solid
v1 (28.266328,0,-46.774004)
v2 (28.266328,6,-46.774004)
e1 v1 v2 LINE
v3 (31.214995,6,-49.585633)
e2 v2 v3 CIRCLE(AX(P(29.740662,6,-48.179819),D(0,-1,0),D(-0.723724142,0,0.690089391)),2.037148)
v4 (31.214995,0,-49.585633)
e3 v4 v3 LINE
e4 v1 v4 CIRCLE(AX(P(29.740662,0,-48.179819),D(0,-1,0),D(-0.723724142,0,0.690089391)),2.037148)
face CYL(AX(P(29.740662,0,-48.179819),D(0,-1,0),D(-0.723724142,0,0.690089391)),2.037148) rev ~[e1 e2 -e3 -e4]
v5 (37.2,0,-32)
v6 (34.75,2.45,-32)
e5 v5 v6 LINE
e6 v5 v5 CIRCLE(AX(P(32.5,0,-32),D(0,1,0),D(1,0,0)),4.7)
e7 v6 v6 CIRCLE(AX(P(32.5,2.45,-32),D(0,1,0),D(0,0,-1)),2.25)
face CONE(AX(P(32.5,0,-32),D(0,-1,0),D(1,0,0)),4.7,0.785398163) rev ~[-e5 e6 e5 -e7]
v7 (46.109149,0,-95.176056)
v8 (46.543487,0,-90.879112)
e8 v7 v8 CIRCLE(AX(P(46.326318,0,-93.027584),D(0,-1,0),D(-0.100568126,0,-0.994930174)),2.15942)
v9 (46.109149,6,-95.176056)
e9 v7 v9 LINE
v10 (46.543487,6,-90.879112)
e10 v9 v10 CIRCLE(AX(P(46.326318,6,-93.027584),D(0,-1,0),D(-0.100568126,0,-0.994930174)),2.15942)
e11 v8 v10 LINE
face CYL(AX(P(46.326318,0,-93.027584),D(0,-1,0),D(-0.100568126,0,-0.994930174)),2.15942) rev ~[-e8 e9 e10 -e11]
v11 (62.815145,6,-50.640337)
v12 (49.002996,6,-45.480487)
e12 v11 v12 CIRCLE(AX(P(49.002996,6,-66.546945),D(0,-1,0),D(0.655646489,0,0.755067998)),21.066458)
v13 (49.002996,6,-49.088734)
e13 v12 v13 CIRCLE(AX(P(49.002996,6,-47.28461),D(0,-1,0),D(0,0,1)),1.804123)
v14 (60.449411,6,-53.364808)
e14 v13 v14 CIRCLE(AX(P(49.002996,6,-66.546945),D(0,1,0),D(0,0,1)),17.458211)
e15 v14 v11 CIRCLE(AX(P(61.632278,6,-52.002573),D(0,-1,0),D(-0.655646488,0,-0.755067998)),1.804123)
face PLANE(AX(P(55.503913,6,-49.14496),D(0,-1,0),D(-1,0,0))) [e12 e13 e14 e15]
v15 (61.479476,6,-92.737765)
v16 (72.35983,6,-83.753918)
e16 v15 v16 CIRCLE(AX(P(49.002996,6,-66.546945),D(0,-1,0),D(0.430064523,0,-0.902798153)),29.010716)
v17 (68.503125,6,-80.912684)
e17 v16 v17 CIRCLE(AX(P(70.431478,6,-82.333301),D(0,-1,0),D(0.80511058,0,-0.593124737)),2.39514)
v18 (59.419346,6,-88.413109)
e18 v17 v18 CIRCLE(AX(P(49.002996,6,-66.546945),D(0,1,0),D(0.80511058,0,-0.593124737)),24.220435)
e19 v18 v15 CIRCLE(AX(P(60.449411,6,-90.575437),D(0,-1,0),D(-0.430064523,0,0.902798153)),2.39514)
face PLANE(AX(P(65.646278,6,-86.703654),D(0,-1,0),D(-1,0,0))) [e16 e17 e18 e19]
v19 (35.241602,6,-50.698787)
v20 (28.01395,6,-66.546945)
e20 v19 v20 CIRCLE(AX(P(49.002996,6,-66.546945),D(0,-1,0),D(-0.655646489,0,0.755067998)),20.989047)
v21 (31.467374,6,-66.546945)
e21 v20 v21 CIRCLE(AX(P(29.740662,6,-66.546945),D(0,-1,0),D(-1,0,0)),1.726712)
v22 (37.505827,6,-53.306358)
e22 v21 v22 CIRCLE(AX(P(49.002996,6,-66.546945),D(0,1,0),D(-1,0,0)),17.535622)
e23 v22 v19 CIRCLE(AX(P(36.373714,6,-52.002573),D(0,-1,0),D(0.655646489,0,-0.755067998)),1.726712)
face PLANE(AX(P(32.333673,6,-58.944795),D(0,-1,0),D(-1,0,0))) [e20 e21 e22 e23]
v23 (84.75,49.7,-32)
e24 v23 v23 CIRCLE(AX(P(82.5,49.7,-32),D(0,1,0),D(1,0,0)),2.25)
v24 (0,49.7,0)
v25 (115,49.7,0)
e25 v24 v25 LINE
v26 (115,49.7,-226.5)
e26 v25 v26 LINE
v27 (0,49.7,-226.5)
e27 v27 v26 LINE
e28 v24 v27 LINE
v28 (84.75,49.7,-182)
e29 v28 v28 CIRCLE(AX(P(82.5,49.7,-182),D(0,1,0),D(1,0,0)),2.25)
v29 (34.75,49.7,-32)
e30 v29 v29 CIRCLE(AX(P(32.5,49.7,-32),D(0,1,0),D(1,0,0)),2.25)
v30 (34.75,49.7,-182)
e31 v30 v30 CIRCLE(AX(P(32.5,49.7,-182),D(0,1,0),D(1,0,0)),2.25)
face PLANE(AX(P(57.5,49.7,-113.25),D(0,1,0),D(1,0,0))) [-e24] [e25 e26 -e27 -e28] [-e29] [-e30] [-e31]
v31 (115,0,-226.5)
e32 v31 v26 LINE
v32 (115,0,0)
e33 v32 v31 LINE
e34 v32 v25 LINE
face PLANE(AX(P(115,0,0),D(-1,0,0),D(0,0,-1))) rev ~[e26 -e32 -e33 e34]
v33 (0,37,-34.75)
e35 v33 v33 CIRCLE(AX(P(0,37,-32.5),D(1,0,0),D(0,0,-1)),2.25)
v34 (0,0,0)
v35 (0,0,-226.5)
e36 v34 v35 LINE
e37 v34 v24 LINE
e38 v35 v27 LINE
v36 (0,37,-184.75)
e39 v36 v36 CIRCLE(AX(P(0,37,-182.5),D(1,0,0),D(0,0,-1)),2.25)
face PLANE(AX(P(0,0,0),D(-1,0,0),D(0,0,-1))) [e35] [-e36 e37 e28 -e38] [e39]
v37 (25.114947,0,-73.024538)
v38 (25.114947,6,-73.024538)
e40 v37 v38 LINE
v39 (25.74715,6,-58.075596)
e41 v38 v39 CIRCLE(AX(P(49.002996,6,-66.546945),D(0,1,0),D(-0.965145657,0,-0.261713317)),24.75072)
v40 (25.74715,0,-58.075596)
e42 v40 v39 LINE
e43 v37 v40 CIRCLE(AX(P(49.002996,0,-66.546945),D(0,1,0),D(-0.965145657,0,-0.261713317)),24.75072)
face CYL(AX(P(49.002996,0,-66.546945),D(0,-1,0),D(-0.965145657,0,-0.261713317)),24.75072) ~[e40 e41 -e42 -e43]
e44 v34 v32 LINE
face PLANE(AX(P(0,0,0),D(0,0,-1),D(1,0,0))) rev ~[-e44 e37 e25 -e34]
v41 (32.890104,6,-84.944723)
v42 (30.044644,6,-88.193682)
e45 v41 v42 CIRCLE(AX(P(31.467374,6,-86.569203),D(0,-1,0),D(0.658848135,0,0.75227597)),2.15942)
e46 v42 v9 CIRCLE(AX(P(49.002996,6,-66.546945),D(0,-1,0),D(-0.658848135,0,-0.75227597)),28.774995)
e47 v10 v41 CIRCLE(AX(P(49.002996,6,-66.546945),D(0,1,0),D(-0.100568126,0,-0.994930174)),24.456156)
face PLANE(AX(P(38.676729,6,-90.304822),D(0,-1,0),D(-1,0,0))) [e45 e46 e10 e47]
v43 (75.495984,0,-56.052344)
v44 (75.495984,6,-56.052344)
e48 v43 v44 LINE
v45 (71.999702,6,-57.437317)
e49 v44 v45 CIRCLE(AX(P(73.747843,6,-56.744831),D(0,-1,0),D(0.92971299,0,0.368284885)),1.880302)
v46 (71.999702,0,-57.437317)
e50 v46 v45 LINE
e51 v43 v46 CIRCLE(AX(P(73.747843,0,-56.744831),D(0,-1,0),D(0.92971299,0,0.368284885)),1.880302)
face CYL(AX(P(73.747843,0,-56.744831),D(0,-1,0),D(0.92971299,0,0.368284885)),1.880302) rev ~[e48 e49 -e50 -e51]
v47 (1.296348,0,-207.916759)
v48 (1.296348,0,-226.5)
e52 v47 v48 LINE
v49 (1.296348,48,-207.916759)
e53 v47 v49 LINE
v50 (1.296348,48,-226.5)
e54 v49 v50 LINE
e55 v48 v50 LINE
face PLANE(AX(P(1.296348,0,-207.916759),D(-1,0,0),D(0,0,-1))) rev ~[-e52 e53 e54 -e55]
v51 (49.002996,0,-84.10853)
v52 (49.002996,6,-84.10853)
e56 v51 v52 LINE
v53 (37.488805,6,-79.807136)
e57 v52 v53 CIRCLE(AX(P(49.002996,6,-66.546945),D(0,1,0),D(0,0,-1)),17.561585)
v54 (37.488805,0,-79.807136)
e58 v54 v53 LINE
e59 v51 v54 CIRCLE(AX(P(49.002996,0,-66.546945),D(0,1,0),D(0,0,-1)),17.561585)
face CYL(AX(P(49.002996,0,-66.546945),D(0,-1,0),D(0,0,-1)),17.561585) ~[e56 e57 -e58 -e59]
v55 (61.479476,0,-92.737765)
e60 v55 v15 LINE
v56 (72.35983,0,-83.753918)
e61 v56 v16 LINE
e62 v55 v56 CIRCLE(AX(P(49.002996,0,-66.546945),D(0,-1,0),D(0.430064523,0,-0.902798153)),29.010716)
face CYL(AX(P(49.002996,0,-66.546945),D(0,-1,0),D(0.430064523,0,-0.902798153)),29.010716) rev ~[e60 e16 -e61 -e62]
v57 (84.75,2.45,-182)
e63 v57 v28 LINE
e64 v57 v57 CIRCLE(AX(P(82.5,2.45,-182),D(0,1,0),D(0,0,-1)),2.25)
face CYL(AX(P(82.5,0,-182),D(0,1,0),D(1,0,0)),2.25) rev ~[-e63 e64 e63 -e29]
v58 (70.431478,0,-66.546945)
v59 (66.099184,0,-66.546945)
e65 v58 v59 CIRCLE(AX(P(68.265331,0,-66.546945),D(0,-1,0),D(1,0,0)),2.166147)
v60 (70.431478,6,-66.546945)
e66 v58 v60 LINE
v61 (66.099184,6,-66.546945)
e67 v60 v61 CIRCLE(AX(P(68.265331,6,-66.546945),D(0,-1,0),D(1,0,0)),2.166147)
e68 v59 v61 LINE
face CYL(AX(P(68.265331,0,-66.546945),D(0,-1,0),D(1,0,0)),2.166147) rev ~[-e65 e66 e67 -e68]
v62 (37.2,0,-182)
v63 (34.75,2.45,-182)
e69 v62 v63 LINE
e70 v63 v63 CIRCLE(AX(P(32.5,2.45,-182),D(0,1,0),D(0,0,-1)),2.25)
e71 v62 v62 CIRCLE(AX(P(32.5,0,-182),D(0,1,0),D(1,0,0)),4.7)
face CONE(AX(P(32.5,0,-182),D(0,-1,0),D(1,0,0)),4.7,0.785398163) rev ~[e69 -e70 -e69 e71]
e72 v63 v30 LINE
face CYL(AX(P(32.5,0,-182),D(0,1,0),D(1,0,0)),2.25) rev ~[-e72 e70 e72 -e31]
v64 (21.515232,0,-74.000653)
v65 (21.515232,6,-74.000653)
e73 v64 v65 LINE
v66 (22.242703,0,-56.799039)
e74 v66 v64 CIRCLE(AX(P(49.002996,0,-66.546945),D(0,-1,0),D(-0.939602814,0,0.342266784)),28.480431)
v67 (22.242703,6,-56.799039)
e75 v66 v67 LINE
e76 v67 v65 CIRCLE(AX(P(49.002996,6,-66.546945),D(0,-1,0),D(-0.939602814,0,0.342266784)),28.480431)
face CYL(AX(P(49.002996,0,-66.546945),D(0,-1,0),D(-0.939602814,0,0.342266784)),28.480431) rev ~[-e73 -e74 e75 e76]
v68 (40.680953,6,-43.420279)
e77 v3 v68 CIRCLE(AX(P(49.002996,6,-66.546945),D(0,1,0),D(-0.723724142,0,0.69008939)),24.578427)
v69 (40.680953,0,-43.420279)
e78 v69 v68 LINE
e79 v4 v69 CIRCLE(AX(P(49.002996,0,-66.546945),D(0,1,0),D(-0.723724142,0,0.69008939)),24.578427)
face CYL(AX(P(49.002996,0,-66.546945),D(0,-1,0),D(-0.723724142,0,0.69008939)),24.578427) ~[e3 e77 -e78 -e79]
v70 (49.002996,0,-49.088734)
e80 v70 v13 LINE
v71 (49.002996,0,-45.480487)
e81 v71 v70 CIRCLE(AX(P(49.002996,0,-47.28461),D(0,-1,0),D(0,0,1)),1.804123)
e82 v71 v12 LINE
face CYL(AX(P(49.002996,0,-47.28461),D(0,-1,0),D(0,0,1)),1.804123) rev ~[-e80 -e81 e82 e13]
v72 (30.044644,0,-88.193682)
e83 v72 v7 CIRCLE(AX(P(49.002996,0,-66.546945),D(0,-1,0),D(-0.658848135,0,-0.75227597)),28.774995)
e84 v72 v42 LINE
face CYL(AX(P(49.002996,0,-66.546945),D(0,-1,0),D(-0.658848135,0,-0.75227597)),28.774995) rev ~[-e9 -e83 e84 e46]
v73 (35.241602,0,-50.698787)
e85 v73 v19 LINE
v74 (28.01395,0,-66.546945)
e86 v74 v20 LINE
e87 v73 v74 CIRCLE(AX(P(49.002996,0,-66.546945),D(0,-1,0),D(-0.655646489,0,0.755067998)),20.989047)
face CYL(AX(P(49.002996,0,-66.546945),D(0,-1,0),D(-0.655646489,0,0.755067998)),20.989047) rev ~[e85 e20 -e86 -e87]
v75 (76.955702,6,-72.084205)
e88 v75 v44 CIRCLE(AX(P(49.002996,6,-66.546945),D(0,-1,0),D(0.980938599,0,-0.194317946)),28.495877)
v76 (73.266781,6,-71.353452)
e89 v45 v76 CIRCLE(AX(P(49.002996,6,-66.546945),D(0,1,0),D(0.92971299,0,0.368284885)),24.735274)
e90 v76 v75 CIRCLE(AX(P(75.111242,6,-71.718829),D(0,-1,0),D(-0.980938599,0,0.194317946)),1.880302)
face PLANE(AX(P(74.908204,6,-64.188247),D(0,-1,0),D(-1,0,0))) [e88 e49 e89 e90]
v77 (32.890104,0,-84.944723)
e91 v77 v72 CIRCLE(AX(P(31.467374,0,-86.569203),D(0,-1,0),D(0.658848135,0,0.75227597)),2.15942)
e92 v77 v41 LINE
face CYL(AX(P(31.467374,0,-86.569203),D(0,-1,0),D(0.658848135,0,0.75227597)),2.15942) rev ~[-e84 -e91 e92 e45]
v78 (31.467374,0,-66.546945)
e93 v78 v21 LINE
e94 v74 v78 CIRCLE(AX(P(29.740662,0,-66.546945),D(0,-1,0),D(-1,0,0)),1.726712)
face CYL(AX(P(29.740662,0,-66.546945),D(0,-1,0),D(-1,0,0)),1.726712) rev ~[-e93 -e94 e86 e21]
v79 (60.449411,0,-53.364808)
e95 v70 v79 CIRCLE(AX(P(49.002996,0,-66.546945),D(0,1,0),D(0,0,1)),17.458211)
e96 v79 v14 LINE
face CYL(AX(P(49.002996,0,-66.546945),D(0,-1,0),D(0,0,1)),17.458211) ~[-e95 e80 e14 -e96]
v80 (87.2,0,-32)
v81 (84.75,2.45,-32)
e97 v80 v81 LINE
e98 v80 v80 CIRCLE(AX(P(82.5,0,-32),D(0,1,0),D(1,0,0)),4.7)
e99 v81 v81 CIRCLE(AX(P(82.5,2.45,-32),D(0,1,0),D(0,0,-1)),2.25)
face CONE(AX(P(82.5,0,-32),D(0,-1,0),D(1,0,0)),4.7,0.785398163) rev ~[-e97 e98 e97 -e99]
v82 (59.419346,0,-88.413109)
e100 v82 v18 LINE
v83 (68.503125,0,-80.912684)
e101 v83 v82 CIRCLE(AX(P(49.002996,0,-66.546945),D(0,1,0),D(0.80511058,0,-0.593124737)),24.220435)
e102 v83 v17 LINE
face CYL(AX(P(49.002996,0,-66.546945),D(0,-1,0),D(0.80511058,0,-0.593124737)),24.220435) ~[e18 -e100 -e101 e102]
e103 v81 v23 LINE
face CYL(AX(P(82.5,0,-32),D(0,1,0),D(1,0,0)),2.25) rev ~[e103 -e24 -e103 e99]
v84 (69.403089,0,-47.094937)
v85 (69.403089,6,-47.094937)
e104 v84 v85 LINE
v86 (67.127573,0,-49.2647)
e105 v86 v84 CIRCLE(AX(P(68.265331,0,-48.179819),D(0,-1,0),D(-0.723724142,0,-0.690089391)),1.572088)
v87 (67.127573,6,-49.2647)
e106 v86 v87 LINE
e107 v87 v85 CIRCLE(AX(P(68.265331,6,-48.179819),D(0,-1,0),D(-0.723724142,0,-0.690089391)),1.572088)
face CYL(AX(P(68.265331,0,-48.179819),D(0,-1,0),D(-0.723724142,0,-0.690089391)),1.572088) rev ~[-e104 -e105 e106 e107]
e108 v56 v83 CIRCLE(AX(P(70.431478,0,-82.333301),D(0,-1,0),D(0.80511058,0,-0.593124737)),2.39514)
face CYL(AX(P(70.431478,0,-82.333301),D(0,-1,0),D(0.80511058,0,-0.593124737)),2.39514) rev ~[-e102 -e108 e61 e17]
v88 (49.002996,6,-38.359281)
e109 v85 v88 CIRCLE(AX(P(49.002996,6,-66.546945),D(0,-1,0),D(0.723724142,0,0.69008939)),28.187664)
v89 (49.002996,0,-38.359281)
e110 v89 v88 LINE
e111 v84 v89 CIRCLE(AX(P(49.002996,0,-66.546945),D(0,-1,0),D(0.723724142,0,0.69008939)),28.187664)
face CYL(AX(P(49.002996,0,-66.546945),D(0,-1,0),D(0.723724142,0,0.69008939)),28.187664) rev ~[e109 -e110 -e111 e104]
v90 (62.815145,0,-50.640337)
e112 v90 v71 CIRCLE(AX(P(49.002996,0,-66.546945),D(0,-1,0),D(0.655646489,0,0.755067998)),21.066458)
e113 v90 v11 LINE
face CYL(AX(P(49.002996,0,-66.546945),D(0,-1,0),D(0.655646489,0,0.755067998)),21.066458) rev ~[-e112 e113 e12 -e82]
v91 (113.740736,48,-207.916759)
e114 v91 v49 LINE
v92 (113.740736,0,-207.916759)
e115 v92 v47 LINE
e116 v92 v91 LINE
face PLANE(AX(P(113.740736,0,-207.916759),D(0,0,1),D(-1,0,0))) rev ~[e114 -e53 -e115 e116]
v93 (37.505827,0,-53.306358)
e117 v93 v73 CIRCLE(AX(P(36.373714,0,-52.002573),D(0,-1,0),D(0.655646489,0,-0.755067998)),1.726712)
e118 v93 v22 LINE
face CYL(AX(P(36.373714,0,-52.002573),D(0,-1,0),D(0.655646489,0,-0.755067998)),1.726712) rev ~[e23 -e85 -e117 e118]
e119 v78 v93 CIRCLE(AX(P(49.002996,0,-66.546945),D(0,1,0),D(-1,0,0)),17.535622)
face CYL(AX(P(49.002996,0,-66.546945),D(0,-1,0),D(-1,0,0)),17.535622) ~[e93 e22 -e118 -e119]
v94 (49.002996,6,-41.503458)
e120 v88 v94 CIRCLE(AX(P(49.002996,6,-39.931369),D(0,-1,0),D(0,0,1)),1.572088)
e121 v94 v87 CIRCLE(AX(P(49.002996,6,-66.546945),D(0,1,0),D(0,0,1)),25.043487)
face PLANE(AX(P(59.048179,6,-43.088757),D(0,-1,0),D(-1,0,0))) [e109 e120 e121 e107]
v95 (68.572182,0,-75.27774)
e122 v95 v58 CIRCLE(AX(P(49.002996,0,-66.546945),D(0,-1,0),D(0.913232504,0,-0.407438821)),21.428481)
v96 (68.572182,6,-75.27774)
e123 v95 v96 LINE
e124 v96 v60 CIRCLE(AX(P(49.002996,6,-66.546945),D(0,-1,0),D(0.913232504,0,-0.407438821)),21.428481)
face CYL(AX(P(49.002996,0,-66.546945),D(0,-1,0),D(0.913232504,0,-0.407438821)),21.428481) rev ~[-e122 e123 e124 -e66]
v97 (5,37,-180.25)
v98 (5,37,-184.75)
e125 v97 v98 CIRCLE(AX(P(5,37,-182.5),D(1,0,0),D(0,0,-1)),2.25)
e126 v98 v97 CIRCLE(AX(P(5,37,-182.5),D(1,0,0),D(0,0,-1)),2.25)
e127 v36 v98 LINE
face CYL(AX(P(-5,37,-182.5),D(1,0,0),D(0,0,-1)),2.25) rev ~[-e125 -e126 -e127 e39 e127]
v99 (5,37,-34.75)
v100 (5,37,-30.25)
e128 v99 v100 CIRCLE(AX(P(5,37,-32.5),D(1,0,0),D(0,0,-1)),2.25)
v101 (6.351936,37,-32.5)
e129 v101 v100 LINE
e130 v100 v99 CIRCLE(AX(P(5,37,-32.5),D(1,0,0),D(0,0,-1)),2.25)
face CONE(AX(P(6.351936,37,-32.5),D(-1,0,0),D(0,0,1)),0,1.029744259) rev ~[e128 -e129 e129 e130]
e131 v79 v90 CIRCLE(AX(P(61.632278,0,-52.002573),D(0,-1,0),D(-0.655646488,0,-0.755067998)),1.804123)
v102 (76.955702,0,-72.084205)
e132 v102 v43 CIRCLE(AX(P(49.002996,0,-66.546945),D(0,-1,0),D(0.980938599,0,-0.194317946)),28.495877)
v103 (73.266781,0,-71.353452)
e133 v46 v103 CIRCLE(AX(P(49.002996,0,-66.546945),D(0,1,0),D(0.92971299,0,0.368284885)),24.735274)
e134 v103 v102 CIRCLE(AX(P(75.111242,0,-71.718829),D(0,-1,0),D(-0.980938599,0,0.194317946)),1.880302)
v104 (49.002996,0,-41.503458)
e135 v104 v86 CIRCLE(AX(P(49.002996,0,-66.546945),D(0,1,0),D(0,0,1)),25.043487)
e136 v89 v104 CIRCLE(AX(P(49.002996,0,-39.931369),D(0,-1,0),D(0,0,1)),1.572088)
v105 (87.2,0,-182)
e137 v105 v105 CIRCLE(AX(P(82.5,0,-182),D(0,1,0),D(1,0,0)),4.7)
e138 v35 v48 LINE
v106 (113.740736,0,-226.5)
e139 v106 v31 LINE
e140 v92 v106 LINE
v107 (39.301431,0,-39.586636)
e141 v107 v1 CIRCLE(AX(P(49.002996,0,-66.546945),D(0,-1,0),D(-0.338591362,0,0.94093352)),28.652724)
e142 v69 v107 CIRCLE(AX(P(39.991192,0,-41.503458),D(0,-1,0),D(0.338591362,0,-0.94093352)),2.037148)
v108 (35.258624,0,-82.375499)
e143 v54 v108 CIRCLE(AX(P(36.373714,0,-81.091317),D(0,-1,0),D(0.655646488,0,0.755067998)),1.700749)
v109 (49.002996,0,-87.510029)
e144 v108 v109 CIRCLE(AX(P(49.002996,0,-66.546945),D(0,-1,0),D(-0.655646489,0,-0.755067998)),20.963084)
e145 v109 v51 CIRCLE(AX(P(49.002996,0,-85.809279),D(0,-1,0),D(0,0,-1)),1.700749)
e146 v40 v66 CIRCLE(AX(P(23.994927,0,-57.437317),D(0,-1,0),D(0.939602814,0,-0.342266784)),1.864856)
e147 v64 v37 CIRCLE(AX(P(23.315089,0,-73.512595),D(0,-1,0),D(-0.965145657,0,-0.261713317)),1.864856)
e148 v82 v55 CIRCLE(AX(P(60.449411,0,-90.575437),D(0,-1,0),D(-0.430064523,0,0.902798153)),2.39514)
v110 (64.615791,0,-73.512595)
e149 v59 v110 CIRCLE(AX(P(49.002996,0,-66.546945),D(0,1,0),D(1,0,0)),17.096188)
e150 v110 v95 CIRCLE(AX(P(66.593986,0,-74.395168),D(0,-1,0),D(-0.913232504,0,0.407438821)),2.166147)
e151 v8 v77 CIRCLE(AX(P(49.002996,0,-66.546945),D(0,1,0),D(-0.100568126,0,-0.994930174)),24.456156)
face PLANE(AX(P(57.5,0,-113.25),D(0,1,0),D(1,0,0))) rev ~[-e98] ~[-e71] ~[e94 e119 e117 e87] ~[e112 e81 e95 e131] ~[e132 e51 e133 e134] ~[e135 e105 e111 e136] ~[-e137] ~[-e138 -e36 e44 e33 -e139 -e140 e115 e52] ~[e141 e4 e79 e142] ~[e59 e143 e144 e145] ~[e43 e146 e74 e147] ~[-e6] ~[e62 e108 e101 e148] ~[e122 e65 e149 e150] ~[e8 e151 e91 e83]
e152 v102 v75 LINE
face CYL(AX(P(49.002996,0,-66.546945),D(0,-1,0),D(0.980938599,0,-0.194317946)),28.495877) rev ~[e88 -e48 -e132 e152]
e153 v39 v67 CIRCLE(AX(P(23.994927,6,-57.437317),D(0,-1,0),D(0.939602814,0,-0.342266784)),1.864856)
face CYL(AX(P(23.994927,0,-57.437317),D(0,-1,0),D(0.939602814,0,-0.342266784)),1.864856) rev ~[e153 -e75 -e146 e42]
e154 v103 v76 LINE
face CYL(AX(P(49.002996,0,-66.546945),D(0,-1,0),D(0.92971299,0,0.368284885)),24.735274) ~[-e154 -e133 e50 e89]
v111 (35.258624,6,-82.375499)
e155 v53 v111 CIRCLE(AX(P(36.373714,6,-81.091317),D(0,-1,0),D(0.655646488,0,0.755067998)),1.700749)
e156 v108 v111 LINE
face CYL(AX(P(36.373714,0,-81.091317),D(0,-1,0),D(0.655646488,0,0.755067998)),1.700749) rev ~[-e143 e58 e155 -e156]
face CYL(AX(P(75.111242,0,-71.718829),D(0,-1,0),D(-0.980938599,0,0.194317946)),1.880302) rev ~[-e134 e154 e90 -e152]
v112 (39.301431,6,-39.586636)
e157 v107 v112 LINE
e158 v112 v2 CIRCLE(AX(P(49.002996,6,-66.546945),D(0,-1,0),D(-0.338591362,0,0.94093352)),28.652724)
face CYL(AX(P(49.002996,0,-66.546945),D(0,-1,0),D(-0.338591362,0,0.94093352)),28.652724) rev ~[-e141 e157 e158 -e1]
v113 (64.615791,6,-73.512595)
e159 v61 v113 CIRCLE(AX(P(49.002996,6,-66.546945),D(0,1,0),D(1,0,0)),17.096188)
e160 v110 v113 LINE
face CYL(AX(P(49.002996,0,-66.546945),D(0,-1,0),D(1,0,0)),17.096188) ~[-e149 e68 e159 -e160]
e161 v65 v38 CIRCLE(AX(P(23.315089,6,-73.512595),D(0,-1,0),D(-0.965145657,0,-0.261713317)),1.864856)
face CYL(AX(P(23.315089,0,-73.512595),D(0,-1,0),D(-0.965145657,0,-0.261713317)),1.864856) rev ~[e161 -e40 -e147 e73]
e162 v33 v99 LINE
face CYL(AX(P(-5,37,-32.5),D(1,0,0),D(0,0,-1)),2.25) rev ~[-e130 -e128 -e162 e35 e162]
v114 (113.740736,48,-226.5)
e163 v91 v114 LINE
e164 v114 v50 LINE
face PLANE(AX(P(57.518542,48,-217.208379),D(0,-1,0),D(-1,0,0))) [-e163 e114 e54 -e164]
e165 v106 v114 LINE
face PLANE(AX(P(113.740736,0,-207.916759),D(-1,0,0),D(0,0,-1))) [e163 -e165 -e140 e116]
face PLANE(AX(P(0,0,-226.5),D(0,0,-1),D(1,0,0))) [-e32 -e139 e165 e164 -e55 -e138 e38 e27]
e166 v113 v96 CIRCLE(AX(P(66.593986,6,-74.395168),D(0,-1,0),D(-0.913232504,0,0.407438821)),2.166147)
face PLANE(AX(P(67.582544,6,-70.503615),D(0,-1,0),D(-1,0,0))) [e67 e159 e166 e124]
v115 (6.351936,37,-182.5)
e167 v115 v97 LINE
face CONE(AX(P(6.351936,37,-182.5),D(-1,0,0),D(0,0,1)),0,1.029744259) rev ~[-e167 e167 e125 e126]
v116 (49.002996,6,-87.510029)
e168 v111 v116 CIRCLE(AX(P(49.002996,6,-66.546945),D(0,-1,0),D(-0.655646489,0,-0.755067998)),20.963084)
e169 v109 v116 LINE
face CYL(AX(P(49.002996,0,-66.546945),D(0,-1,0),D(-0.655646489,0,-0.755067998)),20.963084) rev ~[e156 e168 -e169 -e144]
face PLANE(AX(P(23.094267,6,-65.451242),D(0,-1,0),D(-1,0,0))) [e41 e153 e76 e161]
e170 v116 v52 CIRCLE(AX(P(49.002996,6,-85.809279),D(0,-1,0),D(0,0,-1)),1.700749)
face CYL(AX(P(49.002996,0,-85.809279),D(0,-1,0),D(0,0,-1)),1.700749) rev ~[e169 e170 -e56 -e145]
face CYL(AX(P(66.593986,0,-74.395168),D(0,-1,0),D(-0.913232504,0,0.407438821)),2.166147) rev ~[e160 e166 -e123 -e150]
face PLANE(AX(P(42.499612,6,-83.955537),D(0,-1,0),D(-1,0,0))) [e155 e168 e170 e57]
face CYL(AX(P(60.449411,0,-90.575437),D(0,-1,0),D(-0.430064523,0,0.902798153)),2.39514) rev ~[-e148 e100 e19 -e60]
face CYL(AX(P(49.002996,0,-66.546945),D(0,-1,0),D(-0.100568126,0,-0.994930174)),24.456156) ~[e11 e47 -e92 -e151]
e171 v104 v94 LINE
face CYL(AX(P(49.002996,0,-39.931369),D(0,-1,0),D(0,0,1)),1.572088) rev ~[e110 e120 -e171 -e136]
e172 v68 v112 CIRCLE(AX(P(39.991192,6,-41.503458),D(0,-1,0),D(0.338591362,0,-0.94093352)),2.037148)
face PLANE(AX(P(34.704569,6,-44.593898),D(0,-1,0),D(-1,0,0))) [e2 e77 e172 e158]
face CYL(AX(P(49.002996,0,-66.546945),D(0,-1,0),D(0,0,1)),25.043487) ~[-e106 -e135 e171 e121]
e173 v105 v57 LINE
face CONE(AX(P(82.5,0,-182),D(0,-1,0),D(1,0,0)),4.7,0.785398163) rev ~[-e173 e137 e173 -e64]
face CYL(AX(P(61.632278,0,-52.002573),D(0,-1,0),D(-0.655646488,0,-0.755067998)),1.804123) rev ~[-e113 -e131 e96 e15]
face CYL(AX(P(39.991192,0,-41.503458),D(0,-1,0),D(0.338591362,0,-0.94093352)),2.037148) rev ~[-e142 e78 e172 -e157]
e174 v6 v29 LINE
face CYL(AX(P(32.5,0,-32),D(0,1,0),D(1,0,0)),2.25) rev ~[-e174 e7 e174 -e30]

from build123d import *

# Parameters (mm, degrees)
SKETCH3_W                                       = 115
SKETCH3_H                                       = 226.5
BOSS_EXTRUDE1_DEPTH                             = 49.7
CSK_FOR_M4_FLAT_HEAD_MACHINE_SCREW2_D           = 4.5
CSK_FOR_M4_FLAT_HEAD_MACHINE_SCREW2_CSINK_D     = 9.4
CSK_FOR_M4_FLAT_HEAD_MACHINE_SCREW2_CSINK_ANGLE = 90
SKETCH8_W                                       = 112.444388117
SKETCH8_H                                       = 18.583241451
CUT_EXTRUDE1_DEPTH                              = 48
CUT_EXTRUDE2_DEPTH                              = 6
M4_CLEARANCE_HOLE1_D                            = 4.5
M4_CLEARANCE_HOLE1_DEPTH                        = 5
M4_CLEARANCE_HOLE1_TIP                          = 1.351936393


with BuildPart() as part:
    # Sketch3 → Boss-Extrude1 (new body)
    with BuildSketch(Plane(origin=(0, 0, 0), x_dir=(1, 0, 0), z_dir=(0, 1, 0))):
        with Locations((57.5, 113.25)):
            Rectangle(SKETCH3_W, SKETCH3_H)
    extrude(amount=BOSS_EXTRUDE1_DEPTH)

    # CSK for M4 Flat Head Machine Screw2 (through all)
    with Locations(Plane(origin=(0, 0, 0), x_dir=(-1, 0, 0), z_dir=(0, -1, 0))):
        with Locations((-32.5, 32), (-82.5, 32), (-82.5, 182), (-32.5, 182)):
            CounterSinkHole(CSK_FOR_M4_FLAT_HEAD_MACHINE_SCREW2_D / 2, CSK_FOR_M4_FLAT_HEAD_MACHINE_SCREW2_CSINK_D / 2, counter_sink_angle=CSK_FOR_M4_FLAT_HEAD_MACHINE_SCREW2_CSINK_ANGLE)

    # Sketch8 → Cut-Extrude1 (cut)
    with BuildSketch(Plane(origin=(0, 0, 0), x_dir=(-1, 0, 0), z_dir=(0, -1, 0))):
        with Locations((-57.518541752, 217.208379275)):
            Rectangle(SKETCH8_W, SKETCH8_H)
    extrude(amount=-CUT_EXTRUDE1_DEPTH, mode=Mode.SUBTRACT)

    # Sketch9 → Cut-Extrude2 (cut)
    with BuildSketch(Plane(origin=(0, 0, 0), x_dir=(-1, 0, 0), z_dir=(0, -1, 0))):
        with BuildLine():
            ThreePointArc((-35.24160151, 50.698787363), (-29.906155704, 57.837710564), (-28.013949561, 66.546944878))
            ThreePointArc((-28.013949561, 66.546944878), (-29.740661802, 68.27365712), (-31.467374044, 66.546944878))
            ThreePointArc((-31.467374044, 66.546944878), (-33.0482468, 59.270680978), (-37.505827146, 53.306357674))
            ThreePointArc((-37.505827146, 53.306357674), (-37.677499484, 50.870459701), (-35.24160151, 50.698787363))
        make_face()
        with BuildLine():
            ThreePointArc((-62.815145497, 50.64033664), (-56.375233323, 46.812564416), (-49.002996311, 45.480486923))
            ThreePointArc((-49.002996311, 45.480486923), (-47.198872865, 47.284610369), (-49.002996311, 49.088733815))
            ThreePointArc((-49.002996311, 49.088733815), (-55.112522176, 50.192654089), (-60.449411092, 53.364808398))
            ThreePointArc((-60.449411092, 53.364808398), (-62.994514173, 53.185439721), (-62.815145497, 50.64033664))
        make_face()
        with BuildLine():
            ThreePointArc((-68.572182043, 75.27774008), (-69.961499926, 71.01023305), (-70.43147771, 66.546944878))
            ThreePointArc((-70.43147771, 66.546944878), (-68.26533082, 64.380797988), (-66.09918393, 66.546944878))
            ThreePointArc((-66.09918393, 66.546944878), (-65.724223696, 70.107869732), (-64.615790544, 73.512595409))
            ThreePointArc((-64.615790544, 73.512595409), (-65.711413958, 76.373363494), (-68.572182043, 75.27774008))
        make_face()
        with BuildLine():
            ThreePointArc((-35.258623929, 82.375498714), (-41.66693518, 86.184487896), (-49.002996311, 87.510028828))
            ThreePointArc((-49.002996311, 87.510028828), (-50.703745752, 85.809279387), (-49.002996311, 84.108529946))
            ThreePointArc((-49.002996311, 84.108529946), (-42.857294566, 82.998073111), (-37.488804727, 79.807135761))
            ThreePointArc((-37.488804727, 79.807135761), (-35.089532852, 79.976226838), (-35.258623929, 82.375498714))
        make_face()
        with BuildLine():
            ThreePointArc((-69.40308911, 47.094937136), (-60.098890521, 40.635064917), (-49.002996311, 38.359281062))
            ThreePointArc((-49.002996311, 38.359281062), (-47.430907963, 39.93136941), (-49.002996311, 41.503457758))
            ThreePointArc((-49.002996311, 41.503457758), (-58.861205404, 43.525390616), (-67.12757253, 49.264700116))
            ThreePointArc((-67.12757253, 49.264700116), (-69.35021231, 49.317576916), (-69.40308911, 47.094937136))
        make_face()
        with BuildLine():
            ThreePointArc((-76.955702254, 72.084205228), (-77.381483247, 63.963052285), (-75.495983574, 56.052344001))
            ThreePointArc((-75.495983574, 56.052344001), (-73.055355825, 54.99668972), (-71.999701544, 57.437317469))
            ThreePointArc((-71.999701544, 57.437317469), (-73.636371647, 64.304048834), (-73.266781011, 71.353452457))
            ThreePointArc((-73.266781011, 71.353452457), (-74.745865247, 73.563289464), (-76.955702254, 72.084205228))
        make_face()
        with BuildLine():
            ThreePointArc((-61.479475854, 92.737765271), (-67.474162168, 88.917408587), (-72.359830302, 83.7539179))
            ThreePointArc((-72.359830302, 83.7539179), (-71.852094521, 80.404948498), (-68.503125119, 80.912684278))
            ThreePointArc((-68.503125119, 80.912684278), (-64.424183685, 85.223573911), (-59.419346329, 88.41310925))
            ThreePointArc((-59.419346329, 88.41310925), (-58.287083081, 91.605502023), (-61.479475854, 92.737765271))
        make_face()
        with BuildLine():
            ThreePointArc((-30.044644277, 88.193682414), (-37.532685074, 92.936949007), (-46.109148954, 95.176056029))
            ThreePointArc((-46.109148954, 95.176056029), (-48.474789772, 93.244752833), (-46.543486577, 90.879112015))
            ThreePointArc((-46.543486577, 90.879112015), (-39.254264376, 88.976072623), (-32.890103811, 84.944723032))
            ThreePointArc((-32.890103811, 84.944723032), (-29.842894353, 85.146472956), (-30.044644277, 88.193682414))
        make_face()
        with BuildLine():
            ThreePointArc((-22.242703071, 56.799039322), (-20.547999949, 65.343558372), (-21.515231892, 74.000652968))
            ThreePointArc((-21.515231892, 74.000652968), (-23.803146789, 75.312452747), (-25.114946569, 73.02453785))
            ThreePointArc((-25.114946569, 73.02453785), (-24.274380402, 65.501150237), (-25.747150317, 58.075595617))
            ThreePointArc((-25.747150317, 58.075595617), (-24.633204841, 55.685093846), (-22.242703071, 56.799039322))
        make_face()
        with BuildLine():
            ThreePointArc((-39.301431481, 39.586636452), (-33.365347236, 42.53772744), (-28.266328256, 46.774004062))
            ThreePointArc((-28.266328256, 46.774004062), (-28.334847238, 49.654152172), (-31.214995349, 49.58563319))
            ThreePointArc((-31.214995349, 49.58563319), (-35.588955249, 45.951737309), (-40.680953248, 43.420279064))
            ThreePointArc((-40.680953248, 43.420279064), (-41.90801367, 40.813696874), (-39.301431481, 39.586636452))
        make_face()
    extrude(amount=-CUT_EXTRUDE2_DEPTH, mode=Mode.SUBTRACT)

    # M4 Clearance Hole1
    with Locations(Plane.ZY):
        with Locations((-32.5, 37), (-182.5, 37)):
            Hole(M4_CLEARANCE_HOLE1_D / 2, depth=M4_CLEARANCE_HOLE1_DEPTH)
            with Locations((0, 0, -(M4_CLEARANCE_HOLE1_DEPTH + M4_CLEARANCE_HOLE1_TIP / 2))):  # 118° drill point
                Cone(0, M4_CLEARANCE_HOLE1_D / 2, M4_CLEARANCE_HOLE1_TIP, mode=Mode.SUBTRACT)


solid = part.part
